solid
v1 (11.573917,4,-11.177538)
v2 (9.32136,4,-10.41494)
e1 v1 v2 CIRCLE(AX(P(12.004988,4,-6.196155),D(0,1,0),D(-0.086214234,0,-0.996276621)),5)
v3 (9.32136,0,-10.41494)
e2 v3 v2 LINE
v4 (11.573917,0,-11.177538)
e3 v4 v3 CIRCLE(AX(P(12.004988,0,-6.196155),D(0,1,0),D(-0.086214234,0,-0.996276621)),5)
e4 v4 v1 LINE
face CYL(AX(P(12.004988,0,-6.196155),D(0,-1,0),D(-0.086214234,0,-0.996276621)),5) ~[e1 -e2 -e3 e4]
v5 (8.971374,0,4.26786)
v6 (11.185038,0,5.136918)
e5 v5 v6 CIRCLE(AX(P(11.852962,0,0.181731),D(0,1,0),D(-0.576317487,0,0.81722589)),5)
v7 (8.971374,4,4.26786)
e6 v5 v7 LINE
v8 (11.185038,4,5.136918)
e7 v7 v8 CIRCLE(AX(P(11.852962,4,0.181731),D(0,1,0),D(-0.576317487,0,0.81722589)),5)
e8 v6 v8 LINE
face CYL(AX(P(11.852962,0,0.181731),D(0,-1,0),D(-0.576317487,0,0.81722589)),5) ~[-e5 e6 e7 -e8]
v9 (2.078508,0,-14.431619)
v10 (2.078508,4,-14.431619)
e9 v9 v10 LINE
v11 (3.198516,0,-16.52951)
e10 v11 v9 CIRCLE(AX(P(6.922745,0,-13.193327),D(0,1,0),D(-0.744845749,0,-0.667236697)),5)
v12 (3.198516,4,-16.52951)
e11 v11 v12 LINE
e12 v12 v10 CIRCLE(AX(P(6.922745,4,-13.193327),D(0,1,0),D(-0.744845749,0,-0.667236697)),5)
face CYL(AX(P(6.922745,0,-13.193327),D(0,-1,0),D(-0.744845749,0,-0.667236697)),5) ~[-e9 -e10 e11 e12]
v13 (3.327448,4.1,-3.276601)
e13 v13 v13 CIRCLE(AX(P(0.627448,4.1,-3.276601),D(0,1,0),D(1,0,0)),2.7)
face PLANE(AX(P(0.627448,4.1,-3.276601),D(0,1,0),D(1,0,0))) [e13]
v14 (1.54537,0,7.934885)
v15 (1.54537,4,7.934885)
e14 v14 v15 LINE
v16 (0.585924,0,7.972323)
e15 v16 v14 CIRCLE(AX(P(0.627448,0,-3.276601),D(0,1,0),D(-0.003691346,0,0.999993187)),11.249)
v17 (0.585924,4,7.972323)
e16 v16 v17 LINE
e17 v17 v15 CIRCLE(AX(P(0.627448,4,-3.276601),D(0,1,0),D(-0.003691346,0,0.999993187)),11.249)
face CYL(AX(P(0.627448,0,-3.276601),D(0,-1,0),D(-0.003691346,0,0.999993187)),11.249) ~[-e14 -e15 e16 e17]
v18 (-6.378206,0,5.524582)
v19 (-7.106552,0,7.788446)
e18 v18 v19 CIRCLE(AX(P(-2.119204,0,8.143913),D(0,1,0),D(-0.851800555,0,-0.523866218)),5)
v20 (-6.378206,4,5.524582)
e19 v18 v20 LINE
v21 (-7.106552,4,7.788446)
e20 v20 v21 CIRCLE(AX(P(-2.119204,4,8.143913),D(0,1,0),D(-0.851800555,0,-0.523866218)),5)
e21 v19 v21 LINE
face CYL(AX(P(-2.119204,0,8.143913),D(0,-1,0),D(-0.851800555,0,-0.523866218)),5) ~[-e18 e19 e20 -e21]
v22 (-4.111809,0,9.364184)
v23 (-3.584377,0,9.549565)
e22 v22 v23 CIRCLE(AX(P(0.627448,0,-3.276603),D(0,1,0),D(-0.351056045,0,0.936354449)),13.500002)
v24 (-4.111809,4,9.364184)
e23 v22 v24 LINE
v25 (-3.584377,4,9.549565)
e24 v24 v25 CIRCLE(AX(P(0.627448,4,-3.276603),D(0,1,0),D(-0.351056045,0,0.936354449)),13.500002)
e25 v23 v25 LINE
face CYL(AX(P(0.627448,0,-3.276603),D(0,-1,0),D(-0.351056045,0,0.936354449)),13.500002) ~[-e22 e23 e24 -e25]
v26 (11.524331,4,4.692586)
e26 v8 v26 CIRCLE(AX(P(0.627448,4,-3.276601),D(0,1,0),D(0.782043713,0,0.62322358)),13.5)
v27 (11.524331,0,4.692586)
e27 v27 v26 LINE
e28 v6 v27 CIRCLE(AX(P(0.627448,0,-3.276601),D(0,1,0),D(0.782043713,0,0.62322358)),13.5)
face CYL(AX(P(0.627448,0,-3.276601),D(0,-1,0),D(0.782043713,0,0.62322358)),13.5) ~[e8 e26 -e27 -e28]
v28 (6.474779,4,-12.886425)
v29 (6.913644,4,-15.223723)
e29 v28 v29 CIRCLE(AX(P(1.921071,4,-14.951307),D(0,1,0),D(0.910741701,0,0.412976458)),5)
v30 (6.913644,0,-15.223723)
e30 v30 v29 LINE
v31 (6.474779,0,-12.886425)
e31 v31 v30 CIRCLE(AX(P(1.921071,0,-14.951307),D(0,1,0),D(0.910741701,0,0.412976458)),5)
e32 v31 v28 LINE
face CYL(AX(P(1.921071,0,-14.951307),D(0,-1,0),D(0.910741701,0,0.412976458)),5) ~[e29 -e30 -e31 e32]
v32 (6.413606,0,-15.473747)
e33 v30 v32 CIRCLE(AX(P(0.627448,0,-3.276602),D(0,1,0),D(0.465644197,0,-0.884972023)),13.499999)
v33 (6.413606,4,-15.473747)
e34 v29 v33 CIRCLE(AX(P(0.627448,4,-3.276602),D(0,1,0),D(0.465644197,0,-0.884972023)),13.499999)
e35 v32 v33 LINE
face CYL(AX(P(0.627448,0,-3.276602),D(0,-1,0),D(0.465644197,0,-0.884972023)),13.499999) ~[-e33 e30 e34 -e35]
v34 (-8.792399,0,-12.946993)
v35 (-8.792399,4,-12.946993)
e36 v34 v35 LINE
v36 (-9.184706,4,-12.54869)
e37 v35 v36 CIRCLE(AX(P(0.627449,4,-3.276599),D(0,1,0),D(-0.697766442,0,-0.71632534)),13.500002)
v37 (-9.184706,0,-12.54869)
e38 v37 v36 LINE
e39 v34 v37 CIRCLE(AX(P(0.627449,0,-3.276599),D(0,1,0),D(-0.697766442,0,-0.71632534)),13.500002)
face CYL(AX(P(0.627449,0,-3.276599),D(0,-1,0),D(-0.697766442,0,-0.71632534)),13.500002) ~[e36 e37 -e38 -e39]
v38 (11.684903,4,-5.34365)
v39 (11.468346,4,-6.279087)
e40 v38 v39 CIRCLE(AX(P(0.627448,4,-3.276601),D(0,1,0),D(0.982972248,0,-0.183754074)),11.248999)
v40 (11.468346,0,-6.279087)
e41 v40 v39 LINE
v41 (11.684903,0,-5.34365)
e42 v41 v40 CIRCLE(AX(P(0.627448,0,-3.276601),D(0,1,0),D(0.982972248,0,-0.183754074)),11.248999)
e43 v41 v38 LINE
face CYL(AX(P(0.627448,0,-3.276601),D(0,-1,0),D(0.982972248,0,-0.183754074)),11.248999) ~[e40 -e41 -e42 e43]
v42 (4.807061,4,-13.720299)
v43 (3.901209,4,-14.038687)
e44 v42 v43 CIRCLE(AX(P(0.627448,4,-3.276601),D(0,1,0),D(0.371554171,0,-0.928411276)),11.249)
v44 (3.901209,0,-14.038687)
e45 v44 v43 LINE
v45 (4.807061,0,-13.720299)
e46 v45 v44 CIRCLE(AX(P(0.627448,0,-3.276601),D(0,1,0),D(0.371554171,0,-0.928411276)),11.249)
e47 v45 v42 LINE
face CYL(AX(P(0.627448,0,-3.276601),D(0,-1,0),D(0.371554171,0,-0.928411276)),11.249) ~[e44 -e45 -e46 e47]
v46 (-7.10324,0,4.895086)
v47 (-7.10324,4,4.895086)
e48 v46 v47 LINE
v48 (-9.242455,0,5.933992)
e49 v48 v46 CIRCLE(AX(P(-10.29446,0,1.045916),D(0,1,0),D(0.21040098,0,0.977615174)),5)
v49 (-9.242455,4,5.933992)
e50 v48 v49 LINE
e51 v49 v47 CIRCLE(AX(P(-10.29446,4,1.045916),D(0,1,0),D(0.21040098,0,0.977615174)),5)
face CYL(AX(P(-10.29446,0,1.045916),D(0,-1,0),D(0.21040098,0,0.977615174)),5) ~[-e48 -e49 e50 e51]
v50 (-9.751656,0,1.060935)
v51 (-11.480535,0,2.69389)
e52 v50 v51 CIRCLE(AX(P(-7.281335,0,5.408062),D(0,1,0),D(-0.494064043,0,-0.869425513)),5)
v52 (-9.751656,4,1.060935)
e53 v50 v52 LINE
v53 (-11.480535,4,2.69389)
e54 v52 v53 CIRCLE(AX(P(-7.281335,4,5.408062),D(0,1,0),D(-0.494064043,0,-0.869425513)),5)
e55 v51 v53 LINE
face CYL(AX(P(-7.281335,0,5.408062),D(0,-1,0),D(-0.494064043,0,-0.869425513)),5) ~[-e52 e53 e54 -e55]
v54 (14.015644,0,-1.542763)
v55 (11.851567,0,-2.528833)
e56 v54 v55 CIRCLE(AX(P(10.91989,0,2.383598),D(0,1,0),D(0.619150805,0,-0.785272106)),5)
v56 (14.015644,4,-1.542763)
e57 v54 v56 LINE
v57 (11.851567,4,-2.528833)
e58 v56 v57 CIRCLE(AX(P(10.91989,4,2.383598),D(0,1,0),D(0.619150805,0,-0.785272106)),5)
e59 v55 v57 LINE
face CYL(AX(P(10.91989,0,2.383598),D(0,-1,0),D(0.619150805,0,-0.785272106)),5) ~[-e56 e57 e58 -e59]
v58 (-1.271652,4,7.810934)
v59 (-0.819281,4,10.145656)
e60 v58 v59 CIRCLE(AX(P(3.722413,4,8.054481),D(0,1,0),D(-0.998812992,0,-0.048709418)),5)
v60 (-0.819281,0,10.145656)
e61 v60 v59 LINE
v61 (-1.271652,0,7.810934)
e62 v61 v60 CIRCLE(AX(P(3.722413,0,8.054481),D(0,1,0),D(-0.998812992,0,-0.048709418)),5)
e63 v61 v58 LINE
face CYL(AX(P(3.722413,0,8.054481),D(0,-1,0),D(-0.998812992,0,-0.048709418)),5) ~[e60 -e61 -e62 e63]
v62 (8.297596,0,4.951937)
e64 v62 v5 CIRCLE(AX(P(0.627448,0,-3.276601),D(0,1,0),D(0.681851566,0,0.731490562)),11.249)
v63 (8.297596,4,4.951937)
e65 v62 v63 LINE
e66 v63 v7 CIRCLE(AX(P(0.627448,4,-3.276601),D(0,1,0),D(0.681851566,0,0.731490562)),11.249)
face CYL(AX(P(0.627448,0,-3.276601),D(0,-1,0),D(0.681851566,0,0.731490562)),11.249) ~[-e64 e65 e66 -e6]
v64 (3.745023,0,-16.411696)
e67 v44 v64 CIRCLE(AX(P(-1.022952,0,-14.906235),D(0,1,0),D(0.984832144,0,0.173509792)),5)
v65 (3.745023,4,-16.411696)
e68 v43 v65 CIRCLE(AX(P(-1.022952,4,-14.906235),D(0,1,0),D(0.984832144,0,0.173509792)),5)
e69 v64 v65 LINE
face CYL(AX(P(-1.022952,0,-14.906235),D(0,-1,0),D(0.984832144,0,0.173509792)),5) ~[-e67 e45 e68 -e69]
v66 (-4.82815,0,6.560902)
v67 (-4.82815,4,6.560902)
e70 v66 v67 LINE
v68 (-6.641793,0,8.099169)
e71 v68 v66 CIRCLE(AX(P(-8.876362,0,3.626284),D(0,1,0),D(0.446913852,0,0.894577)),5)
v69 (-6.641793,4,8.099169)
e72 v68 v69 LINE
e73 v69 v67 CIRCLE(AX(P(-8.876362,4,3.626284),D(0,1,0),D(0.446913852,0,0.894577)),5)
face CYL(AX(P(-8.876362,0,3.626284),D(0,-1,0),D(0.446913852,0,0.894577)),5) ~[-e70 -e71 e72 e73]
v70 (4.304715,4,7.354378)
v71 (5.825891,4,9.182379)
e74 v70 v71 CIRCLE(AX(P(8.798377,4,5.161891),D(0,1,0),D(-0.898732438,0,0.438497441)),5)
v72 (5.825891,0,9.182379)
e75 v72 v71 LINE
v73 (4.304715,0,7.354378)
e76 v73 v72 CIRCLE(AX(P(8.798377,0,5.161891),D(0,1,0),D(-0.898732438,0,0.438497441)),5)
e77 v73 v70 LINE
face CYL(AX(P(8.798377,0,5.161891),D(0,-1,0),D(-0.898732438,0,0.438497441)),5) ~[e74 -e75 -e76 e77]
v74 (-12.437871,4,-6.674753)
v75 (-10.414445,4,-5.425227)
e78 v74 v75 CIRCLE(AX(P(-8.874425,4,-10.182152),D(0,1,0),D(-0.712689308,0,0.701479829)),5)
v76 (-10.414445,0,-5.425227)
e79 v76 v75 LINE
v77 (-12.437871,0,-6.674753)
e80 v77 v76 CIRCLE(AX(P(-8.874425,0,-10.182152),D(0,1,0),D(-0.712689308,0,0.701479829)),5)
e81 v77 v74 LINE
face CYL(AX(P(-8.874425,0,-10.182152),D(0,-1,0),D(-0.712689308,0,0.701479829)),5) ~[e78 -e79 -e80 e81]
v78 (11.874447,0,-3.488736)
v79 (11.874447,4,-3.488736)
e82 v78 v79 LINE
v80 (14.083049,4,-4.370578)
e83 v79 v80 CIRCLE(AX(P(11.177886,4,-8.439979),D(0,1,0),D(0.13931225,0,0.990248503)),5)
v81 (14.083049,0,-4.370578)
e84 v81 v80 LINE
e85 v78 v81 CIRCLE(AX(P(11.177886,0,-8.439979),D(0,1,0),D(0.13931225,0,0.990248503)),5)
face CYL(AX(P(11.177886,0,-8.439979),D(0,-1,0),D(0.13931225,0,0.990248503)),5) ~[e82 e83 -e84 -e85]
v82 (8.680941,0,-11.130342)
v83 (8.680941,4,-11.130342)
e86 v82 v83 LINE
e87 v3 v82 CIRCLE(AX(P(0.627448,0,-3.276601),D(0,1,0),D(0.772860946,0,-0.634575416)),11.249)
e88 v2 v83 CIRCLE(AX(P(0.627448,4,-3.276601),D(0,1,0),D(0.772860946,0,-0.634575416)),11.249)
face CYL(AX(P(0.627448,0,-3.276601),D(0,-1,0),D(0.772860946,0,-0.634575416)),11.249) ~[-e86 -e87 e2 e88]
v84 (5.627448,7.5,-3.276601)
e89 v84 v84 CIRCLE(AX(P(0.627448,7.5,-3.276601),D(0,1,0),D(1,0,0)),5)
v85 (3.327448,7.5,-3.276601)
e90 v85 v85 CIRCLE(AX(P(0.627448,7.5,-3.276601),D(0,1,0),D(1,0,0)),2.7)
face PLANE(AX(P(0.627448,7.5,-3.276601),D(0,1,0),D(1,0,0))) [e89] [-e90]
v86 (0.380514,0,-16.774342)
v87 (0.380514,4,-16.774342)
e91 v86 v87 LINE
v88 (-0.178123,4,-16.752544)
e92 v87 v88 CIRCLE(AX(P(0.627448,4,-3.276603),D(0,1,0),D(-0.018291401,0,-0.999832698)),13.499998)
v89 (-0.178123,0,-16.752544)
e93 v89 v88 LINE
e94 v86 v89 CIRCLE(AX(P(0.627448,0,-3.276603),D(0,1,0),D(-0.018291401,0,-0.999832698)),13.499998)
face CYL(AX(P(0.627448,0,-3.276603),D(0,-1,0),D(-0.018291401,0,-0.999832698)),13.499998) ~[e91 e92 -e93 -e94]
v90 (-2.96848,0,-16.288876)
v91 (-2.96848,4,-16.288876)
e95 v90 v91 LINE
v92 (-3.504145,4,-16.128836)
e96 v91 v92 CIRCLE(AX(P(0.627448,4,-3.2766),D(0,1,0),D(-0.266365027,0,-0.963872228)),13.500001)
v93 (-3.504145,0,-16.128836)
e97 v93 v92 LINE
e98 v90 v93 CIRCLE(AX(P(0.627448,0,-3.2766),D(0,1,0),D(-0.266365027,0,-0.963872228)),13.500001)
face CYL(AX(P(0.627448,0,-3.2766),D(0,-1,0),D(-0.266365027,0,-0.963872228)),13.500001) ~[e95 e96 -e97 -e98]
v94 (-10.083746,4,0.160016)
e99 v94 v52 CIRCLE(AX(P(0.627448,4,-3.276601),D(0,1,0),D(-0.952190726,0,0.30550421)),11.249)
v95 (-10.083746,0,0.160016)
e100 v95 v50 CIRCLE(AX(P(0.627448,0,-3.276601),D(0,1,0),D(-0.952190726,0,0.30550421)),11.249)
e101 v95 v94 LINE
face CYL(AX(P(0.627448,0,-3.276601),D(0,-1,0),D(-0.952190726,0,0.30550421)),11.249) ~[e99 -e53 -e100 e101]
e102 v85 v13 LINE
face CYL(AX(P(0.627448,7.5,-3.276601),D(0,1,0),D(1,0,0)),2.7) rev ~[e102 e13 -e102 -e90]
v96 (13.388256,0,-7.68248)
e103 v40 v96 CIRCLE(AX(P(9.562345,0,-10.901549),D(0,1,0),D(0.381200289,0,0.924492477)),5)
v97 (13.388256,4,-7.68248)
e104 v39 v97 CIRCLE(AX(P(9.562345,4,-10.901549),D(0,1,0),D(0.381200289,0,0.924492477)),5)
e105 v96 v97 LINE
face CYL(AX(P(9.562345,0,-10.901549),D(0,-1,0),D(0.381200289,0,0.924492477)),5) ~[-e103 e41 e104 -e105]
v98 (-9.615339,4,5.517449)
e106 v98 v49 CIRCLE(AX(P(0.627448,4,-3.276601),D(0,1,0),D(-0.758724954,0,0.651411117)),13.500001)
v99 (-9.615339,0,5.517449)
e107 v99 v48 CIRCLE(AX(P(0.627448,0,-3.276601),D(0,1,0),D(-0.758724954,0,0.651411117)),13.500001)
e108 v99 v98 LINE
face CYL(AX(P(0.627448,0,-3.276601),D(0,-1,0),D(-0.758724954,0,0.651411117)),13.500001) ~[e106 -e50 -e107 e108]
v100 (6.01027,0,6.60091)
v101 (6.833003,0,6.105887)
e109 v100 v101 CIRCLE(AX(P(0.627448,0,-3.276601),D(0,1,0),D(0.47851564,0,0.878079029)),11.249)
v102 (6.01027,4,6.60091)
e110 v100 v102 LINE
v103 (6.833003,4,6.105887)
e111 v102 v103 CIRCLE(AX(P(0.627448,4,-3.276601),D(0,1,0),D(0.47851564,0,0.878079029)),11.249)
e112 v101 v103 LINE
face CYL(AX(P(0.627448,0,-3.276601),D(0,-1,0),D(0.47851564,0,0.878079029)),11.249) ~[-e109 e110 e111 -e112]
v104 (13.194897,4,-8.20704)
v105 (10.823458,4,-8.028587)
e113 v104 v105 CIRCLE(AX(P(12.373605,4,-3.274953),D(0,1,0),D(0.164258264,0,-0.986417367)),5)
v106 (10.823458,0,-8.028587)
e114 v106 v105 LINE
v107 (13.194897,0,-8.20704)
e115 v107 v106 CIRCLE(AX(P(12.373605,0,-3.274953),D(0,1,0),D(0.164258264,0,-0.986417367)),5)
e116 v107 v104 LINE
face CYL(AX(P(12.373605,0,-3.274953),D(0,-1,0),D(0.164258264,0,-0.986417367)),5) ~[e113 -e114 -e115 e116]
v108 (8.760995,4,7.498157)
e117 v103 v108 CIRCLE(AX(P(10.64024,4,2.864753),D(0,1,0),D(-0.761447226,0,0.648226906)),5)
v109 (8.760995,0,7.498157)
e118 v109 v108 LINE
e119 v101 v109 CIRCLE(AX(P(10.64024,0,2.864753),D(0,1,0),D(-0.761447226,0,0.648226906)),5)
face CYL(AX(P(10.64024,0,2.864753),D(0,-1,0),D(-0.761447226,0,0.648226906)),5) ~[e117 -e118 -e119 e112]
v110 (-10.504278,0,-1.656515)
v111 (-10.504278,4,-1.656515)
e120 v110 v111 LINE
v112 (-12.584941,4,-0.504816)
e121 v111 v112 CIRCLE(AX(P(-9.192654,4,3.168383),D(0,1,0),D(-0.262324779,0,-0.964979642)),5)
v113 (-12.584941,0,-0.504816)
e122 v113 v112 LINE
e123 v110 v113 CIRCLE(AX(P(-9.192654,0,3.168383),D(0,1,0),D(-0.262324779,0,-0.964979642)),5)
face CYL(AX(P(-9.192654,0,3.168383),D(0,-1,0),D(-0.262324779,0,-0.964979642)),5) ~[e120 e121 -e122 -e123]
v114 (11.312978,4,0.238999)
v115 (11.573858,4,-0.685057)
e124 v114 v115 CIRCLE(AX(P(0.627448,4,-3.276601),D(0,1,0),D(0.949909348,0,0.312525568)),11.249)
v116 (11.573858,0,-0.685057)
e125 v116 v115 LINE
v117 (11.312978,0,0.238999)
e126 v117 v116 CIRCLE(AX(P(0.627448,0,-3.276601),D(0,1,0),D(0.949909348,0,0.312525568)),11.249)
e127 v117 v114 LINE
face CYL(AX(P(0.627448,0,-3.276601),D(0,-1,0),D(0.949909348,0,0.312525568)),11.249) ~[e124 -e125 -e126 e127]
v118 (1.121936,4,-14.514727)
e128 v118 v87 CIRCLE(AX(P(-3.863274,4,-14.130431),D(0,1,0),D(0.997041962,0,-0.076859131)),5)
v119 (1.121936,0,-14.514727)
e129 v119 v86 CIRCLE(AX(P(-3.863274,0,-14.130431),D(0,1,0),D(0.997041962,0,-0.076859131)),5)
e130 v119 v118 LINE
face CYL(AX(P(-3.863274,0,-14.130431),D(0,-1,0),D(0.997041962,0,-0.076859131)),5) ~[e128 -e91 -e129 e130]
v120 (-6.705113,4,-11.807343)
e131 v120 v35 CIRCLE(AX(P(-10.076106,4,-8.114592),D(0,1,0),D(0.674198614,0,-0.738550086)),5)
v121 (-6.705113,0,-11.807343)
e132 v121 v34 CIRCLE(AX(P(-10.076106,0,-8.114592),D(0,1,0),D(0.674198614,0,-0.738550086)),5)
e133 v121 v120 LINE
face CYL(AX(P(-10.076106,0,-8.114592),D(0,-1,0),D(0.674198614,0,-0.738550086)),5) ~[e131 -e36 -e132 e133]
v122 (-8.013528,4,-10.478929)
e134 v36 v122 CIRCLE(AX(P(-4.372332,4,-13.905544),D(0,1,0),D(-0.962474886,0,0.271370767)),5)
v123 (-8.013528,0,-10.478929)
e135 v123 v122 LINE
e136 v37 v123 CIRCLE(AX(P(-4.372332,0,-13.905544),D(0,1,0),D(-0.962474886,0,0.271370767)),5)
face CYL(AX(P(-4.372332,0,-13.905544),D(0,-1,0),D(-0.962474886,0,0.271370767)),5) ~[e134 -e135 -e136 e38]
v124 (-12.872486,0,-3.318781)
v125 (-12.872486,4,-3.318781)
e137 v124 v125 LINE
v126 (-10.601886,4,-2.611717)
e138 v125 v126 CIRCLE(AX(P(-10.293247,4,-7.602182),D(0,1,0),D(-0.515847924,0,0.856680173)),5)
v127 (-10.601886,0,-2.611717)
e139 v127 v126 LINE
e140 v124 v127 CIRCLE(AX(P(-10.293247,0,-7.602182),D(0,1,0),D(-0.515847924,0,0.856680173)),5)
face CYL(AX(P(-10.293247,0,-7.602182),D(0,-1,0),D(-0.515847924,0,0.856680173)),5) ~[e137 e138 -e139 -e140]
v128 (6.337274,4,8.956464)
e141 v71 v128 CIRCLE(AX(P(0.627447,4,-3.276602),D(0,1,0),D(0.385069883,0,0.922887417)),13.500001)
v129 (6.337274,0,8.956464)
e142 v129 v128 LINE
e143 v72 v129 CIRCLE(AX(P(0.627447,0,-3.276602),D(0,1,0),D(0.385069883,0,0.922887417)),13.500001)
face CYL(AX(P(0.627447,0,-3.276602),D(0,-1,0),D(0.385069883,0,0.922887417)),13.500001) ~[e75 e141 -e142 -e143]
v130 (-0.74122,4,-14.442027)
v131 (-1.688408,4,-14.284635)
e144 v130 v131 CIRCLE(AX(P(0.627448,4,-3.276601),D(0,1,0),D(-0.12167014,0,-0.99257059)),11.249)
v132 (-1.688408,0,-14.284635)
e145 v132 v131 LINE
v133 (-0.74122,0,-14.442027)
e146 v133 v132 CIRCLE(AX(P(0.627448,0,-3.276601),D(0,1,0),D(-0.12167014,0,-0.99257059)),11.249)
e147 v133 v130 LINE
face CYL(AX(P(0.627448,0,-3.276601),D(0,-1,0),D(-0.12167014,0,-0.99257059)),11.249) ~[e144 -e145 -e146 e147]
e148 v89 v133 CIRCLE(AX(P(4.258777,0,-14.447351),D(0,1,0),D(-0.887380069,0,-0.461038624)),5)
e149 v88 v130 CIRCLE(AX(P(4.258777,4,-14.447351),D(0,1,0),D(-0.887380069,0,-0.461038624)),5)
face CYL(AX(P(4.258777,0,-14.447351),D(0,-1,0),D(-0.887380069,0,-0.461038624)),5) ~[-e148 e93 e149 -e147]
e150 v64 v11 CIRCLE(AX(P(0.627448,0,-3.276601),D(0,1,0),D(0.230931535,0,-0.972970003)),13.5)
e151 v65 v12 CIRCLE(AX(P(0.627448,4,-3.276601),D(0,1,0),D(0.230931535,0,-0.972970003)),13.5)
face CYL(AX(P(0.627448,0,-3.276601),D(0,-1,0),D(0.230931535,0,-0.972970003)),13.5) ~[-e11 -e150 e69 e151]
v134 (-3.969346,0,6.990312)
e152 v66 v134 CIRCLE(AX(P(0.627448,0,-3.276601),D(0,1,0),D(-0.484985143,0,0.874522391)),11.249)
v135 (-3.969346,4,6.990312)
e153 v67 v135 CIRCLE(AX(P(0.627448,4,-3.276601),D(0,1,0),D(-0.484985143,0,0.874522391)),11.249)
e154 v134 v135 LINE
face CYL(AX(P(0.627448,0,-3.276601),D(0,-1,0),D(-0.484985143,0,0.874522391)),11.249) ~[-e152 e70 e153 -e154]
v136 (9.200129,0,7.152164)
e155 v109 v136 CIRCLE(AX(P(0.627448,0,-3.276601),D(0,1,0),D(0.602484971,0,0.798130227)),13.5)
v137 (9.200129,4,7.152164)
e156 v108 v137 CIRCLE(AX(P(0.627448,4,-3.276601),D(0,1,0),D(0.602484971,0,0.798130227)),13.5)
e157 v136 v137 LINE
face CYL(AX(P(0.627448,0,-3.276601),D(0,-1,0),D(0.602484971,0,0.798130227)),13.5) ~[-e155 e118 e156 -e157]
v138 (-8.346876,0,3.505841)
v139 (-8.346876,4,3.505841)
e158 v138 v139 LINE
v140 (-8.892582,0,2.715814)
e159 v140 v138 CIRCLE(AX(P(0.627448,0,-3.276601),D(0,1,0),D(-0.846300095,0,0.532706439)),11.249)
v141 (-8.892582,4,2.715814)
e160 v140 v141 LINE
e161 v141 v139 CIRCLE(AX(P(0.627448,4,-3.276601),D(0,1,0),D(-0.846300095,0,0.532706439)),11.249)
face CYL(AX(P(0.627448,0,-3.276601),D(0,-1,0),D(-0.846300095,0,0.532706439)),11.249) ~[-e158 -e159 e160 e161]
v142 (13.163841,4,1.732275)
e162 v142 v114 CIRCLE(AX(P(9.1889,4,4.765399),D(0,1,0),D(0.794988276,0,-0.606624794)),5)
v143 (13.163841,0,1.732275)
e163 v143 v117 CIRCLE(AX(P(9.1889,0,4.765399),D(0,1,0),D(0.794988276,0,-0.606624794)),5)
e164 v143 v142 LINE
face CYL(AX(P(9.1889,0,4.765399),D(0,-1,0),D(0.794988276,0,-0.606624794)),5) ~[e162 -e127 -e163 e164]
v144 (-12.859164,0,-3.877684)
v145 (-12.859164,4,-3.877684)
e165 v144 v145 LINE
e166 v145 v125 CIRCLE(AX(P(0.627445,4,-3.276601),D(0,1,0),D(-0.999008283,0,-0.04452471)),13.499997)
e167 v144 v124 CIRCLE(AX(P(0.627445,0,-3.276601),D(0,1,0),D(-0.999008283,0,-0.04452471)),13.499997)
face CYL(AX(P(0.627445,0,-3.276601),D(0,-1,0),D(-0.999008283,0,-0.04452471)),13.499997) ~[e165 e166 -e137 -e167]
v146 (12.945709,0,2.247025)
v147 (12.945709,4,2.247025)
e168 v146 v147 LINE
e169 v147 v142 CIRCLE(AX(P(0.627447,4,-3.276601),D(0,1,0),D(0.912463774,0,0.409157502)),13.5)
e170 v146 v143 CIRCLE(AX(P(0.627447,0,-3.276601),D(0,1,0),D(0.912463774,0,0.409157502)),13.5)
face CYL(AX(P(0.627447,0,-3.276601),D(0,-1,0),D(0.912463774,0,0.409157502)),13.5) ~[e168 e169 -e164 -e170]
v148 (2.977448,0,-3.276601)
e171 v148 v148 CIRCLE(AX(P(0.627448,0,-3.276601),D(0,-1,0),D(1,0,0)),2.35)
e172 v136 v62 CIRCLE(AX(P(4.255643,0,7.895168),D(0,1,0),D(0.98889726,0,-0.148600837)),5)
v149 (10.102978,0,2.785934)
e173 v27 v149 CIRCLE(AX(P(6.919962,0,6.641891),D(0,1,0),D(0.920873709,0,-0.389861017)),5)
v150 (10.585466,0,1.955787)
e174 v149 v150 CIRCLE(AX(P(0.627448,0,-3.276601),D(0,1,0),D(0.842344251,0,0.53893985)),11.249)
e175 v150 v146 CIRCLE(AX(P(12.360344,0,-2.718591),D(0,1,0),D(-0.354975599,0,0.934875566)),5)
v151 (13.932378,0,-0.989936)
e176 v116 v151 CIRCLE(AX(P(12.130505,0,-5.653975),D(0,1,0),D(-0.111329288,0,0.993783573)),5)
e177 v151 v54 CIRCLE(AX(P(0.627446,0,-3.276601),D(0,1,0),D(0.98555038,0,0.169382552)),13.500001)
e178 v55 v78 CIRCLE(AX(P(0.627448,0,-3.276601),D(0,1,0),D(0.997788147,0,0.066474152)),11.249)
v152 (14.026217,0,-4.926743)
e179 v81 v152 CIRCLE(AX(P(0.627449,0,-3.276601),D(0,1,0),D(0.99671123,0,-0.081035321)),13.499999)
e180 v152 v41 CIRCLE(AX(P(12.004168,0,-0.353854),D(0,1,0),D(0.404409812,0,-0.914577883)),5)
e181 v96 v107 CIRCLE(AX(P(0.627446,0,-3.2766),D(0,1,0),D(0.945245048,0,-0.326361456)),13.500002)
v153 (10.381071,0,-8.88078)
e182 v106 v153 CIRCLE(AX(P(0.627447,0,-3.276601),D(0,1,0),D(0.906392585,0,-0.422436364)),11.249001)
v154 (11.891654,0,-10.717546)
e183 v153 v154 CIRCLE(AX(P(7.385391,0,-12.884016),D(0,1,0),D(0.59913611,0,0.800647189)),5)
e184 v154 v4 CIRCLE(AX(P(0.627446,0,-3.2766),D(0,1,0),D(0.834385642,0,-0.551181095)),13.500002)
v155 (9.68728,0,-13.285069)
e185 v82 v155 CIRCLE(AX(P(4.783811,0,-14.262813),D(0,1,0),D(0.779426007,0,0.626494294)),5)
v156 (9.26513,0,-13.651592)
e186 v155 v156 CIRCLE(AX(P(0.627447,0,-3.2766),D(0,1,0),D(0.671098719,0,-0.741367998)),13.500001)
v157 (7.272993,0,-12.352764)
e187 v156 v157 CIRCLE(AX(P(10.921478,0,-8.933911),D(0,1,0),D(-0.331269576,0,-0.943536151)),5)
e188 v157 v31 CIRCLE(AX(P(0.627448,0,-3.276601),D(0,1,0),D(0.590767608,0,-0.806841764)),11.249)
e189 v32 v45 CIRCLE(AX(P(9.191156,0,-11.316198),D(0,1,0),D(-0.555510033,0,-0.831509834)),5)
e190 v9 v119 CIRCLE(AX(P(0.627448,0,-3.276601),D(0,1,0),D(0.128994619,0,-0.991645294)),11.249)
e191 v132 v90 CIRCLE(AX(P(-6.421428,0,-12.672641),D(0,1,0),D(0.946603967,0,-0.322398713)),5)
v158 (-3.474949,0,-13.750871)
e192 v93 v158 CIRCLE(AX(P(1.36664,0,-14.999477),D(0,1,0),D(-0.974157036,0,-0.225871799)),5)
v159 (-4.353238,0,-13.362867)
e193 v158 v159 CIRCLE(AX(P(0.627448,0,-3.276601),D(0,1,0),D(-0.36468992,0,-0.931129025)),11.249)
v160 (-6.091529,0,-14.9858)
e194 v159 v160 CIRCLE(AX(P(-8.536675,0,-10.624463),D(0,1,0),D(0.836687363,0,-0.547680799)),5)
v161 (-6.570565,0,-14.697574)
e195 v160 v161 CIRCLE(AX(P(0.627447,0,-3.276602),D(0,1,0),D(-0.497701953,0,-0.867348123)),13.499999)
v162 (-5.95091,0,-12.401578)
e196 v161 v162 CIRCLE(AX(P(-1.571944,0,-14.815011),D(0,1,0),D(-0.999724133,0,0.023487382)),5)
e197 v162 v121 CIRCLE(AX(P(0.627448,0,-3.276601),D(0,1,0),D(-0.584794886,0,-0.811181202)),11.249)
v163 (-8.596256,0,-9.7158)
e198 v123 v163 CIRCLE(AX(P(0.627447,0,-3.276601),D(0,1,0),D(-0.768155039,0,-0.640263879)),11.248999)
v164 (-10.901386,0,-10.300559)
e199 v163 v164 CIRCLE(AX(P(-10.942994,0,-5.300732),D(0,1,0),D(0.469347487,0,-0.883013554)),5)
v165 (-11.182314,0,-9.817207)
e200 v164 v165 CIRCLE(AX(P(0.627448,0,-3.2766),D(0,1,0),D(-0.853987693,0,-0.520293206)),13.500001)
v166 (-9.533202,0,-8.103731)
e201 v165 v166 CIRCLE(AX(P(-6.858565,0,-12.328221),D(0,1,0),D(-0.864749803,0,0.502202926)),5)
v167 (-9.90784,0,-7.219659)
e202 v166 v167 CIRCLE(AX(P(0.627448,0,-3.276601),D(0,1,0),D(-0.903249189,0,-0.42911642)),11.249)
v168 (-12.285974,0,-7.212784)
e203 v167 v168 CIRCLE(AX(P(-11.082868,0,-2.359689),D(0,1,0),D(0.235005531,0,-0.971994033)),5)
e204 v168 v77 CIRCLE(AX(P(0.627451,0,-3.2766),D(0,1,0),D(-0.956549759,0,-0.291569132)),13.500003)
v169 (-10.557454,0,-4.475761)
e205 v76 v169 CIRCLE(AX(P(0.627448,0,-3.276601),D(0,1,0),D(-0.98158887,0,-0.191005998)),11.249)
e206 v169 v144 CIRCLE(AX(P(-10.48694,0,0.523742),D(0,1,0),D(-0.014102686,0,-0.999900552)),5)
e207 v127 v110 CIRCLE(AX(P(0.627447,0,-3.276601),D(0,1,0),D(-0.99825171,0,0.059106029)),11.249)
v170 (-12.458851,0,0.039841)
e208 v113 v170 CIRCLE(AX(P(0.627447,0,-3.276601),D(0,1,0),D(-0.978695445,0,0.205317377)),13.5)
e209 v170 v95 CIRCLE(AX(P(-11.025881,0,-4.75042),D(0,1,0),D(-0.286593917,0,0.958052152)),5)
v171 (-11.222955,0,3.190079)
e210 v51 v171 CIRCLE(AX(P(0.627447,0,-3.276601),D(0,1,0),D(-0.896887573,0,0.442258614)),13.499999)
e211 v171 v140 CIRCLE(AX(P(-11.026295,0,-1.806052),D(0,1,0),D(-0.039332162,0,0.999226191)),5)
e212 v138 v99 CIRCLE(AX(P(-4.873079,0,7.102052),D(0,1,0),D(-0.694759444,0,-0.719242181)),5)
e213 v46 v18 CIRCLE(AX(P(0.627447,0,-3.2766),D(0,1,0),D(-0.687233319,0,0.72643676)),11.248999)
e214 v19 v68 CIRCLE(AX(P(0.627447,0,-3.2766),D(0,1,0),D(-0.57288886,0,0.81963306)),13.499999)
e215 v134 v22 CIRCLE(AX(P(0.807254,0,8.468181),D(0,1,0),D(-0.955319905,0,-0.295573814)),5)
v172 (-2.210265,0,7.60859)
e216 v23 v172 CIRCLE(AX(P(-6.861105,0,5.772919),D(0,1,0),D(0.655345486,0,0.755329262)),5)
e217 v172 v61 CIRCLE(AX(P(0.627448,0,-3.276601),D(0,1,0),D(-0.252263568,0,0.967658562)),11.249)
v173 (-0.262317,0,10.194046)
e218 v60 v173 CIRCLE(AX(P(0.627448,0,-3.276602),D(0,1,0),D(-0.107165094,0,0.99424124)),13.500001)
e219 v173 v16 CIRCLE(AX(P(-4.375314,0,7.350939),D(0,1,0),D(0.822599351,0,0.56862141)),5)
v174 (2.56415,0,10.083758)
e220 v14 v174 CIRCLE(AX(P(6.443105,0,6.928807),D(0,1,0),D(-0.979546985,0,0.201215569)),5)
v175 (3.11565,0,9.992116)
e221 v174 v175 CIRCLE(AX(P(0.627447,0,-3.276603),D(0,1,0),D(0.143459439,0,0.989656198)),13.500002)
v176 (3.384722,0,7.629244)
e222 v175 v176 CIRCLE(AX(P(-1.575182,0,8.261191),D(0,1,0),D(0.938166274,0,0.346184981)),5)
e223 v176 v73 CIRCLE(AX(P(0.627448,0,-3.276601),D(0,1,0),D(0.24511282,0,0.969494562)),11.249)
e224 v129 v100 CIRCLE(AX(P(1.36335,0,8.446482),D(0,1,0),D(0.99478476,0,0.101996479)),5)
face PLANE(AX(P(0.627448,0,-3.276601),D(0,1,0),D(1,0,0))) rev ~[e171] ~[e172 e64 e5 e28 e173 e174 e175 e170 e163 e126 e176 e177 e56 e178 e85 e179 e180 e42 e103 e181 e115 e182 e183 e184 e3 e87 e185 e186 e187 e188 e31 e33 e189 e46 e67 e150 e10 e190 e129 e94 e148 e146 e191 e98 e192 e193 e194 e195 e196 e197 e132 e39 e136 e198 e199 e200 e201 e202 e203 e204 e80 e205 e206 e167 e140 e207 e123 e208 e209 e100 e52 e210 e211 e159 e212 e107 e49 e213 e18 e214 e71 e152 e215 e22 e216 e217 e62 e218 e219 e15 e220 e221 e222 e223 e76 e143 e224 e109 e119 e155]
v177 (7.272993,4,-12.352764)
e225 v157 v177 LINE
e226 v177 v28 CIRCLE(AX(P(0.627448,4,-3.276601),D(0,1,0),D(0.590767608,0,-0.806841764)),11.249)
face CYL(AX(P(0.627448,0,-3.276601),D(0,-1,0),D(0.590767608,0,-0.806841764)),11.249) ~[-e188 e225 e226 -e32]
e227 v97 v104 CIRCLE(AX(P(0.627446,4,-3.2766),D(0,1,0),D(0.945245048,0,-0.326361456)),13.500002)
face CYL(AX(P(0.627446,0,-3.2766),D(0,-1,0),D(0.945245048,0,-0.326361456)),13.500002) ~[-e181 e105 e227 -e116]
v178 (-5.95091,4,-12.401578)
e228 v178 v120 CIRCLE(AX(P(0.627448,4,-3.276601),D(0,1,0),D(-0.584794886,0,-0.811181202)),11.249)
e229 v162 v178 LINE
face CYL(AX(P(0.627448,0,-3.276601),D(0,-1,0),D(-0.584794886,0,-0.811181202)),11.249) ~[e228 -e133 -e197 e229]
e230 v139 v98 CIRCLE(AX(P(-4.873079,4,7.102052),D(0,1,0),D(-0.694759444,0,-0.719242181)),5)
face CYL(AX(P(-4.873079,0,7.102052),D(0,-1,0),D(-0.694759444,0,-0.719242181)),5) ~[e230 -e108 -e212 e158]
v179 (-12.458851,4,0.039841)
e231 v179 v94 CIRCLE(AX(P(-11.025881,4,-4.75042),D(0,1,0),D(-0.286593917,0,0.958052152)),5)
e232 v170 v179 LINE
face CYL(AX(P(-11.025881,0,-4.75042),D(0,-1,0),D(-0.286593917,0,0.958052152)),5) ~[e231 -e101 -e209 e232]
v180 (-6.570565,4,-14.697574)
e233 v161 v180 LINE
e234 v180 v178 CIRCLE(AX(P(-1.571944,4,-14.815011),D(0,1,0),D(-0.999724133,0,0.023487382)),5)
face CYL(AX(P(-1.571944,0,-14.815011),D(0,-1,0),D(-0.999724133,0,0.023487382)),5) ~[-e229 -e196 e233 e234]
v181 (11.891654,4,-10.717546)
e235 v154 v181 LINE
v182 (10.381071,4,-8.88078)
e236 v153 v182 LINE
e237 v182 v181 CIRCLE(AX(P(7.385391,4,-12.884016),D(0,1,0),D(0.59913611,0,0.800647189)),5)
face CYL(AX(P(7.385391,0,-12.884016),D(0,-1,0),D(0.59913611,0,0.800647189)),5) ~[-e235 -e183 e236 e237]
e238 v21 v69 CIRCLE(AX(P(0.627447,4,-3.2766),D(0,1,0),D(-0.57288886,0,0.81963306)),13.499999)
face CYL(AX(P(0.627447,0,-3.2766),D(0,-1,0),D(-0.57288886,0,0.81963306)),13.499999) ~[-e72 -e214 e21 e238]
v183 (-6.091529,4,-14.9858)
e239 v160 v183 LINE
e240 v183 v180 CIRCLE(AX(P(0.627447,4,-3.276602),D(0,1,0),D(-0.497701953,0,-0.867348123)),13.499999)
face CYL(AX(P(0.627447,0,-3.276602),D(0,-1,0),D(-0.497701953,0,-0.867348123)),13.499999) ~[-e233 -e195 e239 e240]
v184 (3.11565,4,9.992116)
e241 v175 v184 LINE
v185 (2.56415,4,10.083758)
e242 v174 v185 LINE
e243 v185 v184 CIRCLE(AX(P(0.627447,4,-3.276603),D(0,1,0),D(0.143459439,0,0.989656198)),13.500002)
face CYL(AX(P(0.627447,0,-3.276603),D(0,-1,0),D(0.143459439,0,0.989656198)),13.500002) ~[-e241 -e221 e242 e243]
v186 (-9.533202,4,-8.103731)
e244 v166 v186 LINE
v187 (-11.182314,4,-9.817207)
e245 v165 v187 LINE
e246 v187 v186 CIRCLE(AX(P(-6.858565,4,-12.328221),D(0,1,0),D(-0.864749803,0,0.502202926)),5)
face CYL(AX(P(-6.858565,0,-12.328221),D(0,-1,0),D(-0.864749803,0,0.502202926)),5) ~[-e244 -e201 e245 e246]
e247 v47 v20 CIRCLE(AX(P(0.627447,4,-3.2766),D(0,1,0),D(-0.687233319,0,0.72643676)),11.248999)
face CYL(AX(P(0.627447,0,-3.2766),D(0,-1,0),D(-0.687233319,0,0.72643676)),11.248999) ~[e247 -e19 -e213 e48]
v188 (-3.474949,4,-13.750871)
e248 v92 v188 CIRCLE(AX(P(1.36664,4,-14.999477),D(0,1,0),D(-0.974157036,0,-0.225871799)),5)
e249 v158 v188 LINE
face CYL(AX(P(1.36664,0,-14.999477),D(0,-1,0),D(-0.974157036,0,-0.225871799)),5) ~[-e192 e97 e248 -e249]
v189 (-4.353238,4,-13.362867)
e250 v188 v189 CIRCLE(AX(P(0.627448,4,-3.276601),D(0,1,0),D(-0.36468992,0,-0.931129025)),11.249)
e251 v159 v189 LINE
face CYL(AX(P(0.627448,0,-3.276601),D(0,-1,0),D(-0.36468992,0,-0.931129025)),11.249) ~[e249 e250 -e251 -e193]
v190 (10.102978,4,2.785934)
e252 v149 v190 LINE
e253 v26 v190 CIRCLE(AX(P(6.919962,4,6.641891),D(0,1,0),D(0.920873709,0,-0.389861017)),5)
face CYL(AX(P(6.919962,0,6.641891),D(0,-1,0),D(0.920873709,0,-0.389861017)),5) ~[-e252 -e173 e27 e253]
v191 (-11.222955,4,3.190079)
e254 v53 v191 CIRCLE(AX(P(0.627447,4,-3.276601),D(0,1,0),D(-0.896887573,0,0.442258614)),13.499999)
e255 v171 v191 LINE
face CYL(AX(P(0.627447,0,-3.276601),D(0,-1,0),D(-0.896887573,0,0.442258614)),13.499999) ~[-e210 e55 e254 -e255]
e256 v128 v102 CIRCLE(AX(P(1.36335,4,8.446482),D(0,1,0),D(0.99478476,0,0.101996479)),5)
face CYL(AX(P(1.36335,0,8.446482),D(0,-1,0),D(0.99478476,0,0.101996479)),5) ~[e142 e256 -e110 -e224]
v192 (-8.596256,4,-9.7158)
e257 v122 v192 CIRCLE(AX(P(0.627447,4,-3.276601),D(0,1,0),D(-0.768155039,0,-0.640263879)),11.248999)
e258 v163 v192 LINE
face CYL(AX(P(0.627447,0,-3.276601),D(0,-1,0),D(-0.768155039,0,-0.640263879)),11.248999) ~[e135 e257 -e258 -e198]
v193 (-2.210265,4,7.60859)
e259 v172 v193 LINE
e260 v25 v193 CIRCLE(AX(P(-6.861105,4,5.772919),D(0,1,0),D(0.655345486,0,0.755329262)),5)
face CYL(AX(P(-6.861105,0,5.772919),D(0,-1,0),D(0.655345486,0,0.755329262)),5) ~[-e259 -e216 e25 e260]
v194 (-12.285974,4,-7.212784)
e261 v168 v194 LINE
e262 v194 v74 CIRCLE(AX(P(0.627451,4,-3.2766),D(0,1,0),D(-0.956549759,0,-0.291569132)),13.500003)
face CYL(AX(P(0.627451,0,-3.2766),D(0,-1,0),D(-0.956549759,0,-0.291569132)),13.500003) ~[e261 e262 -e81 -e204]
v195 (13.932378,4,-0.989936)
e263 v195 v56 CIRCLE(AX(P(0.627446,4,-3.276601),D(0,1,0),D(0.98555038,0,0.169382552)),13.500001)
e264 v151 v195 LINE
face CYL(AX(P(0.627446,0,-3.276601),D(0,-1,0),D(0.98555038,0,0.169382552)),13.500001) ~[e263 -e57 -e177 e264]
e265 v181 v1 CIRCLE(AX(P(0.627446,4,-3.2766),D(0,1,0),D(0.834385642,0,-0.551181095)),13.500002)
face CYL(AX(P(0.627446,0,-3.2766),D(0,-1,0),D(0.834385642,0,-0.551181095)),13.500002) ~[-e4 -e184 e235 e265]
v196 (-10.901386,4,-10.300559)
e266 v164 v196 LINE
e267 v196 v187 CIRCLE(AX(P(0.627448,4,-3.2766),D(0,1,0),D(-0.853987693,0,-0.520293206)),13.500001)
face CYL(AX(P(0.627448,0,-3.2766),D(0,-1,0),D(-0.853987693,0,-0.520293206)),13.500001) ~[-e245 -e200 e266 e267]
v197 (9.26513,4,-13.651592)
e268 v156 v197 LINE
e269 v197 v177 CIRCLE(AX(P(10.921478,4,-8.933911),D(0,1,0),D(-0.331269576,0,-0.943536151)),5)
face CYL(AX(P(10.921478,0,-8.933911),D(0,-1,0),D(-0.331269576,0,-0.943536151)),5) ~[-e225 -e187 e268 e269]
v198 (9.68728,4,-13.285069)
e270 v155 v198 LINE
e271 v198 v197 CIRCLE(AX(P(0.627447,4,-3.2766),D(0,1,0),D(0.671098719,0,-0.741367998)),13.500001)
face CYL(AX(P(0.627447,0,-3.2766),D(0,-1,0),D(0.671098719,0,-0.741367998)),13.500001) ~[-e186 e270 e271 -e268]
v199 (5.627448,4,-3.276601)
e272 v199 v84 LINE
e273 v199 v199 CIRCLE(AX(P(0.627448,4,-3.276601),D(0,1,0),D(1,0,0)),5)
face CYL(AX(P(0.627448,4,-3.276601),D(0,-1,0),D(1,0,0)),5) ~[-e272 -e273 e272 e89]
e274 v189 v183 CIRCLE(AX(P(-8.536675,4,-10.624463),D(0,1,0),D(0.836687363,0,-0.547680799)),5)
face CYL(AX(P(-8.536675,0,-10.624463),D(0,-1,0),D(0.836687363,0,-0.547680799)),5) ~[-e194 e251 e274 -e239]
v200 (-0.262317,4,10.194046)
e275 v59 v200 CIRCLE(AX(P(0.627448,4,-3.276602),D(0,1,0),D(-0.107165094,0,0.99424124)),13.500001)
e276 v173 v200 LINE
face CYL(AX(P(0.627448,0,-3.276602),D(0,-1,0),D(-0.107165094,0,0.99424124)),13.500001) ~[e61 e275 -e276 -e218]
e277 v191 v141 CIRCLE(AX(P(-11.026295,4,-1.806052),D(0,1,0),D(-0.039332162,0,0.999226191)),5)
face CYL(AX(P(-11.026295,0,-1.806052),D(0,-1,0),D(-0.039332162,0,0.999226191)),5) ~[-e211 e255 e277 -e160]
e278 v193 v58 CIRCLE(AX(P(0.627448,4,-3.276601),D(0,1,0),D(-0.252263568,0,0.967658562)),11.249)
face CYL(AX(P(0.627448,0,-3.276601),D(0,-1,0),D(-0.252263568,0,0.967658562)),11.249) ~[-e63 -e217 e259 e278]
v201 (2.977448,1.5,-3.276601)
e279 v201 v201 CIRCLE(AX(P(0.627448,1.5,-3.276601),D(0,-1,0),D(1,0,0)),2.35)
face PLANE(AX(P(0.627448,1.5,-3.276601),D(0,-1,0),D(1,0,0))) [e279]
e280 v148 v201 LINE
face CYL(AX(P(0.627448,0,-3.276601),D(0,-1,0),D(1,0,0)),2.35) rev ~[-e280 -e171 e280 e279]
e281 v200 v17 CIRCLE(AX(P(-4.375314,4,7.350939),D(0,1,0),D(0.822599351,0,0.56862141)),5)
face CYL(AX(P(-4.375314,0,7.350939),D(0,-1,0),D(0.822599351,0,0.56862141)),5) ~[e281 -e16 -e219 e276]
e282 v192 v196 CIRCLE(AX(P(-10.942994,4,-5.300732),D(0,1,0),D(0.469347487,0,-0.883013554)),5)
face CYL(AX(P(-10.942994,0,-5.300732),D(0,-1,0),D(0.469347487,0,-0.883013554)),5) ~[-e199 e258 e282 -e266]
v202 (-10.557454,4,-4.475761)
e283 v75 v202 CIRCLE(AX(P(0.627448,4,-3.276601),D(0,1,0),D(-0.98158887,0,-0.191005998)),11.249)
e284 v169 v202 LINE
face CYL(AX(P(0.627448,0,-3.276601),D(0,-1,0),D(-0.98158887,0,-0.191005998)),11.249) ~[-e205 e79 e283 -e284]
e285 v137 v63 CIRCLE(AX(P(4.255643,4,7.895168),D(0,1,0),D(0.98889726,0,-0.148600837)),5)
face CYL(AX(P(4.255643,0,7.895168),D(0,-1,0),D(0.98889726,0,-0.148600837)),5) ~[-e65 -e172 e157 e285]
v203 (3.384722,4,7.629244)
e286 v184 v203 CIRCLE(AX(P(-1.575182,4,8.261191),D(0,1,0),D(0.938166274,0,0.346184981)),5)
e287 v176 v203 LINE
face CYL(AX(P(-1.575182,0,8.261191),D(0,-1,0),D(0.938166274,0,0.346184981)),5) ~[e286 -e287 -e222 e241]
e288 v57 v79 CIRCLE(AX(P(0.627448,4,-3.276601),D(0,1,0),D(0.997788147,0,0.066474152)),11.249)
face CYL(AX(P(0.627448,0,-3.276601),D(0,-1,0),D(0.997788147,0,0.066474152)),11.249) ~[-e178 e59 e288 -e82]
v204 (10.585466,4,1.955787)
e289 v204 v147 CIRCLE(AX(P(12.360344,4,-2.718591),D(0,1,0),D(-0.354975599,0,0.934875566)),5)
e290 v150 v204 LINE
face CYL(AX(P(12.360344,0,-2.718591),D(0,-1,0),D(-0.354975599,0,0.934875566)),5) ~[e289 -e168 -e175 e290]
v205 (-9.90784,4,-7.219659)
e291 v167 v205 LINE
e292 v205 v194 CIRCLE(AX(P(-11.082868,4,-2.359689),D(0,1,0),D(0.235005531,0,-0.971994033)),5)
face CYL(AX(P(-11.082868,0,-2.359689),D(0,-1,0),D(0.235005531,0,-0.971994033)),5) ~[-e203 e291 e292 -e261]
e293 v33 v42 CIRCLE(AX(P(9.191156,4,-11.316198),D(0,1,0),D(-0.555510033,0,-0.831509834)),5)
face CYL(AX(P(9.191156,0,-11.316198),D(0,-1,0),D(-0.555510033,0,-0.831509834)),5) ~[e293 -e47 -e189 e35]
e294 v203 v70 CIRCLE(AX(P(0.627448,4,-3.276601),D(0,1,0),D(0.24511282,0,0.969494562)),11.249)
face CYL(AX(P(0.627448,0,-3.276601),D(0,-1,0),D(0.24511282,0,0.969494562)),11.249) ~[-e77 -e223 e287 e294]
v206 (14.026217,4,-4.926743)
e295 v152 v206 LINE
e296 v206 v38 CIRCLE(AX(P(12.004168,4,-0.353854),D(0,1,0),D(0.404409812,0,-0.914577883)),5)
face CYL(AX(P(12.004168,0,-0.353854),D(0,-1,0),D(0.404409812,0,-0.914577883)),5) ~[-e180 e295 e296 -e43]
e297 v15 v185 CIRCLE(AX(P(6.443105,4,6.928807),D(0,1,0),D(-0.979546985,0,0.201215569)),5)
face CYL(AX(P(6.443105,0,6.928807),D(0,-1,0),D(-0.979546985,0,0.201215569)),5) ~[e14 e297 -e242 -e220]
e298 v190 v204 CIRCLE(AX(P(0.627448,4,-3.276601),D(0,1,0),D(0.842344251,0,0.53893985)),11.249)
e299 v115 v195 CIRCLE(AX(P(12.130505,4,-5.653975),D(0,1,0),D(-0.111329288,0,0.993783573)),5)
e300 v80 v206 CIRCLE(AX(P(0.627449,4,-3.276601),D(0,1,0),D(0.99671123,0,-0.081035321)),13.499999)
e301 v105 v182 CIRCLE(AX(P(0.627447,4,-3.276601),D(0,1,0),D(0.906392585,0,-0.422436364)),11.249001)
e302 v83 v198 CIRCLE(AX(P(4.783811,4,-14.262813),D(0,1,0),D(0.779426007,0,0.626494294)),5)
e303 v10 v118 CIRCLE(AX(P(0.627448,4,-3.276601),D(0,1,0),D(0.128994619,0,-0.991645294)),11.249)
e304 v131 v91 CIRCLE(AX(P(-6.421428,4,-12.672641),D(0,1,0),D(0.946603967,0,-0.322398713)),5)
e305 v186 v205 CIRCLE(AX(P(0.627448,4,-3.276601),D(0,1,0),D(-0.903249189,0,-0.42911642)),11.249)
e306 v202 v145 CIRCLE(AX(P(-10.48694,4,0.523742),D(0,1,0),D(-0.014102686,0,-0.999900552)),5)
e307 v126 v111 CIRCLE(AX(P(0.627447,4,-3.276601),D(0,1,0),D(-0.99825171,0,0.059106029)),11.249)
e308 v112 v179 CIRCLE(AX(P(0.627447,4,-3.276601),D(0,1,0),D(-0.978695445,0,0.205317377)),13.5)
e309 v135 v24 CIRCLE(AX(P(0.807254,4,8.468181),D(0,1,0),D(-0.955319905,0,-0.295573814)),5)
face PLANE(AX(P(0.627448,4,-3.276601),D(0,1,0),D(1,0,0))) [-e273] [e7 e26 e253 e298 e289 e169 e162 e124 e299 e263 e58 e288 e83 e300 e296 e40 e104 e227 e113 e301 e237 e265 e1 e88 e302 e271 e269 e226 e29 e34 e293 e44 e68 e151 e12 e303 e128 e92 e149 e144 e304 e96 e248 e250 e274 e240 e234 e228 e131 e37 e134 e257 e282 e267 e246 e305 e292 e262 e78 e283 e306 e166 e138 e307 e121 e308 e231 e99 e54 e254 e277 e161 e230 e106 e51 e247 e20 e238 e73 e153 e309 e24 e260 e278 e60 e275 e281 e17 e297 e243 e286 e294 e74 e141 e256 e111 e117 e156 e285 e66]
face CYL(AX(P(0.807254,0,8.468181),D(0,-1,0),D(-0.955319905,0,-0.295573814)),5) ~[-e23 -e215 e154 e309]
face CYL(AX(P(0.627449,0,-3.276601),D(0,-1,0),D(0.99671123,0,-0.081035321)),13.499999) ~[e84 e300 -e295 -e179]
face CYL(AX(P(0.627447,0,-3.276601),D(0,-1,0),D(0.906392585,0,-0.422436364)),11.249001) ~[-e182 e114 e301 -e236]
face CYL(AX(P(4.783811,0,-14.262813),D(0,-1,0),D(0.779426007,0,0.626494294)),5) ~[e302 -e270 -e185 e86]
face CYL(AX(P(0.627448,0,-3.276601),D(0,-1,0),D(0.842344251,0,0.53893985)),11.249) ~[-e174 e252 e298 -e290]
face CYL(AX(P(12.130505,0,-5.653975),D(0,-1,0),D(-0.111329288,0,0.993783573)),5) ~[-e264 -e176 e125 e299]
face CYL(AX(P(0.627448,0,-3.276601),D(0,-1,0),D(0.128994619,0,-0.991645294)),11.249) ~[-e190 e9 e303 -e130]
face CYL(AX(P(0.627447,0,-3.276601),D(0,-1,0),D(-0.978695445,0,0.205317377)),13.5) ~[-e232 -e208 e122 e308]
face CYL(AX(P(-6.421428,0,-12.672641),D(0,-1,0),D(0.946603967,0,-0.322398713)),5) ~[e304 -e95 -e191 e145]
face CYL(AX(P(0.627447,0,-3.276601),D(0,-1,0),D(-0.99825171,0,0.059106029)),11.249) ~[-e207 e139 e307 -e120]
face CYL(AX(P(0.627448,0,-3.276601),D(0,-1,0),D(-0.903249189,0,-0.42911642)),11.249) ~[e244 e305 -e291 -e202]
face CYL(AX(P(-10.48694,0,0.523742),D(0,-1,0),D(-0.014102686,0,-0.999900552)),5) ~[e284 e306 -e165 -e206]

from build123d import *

# Parameters (mm, degrees)
BOSS_EXTRUDE1_DEPTH = 4
SKETCH2_R           = 5
BOSS_EXTRUDE2_DEPTH = 3.5
SKETCH3_R           = 2.7
CUT_EXTRUDE1_DEPTH  = 3.4
SKETCH4_R           = 2.35
CUT_EXTRUDE2_DEPTH  = 1.5


with BuildPart() as part:
    # Sketch1 → Boss-Extrude1 (new body)
    with BuildSketch(Plane(origin=(0, 0, 0), x_dir=(1, 0, 0), z_dir=(0, 1, 0))):
        with BuildLine():
            ThreePointArc((3.901208796, 14.038686533), (3.966253303, 15.234612101), (3.74502345, 16.41169583))
            ThreePointArc((3.74502345, 16.41169583), (3.4723799, 16.473432267), (3.198516489, 16.529510113))
            ThreePointArc((3.198516489, 16.529510113), (2.511969944, 15.548122017), (2.078508173, 14.431618705))
            ThreePointArc((2.078508173, 14.431618705), (1.601109064, 14.483383768), (1.121935684, 14.514727092))
            ThreePointArc((1.121935684, 14.514727092), (0.887522104, 15.689256371), (0.380513774, 16.774342223))
            ThreePointArc((0.380513774, 16.774342223), (0.101082595, 16.766335403), (-0.178122887, 16.752544399))
            ThreePointArc((-0.178122887, 16.752544399), (-0.599039015, 15.631251232), (-0.741219705, 14.442027366))
            ThreePointArc((-0.741219705, 14.442027366), (-1.216493891, 14.373441804), (-1.688407925, 14.284634846))
            ThreePointArc((-1.688407925, 14.284634846), (-2.207550525, 15.363967841), (-2.968480134, 16.288875881))
            ThreePointArc((-2.968480134, 16.288875881), (-3.237141254, 16.211628901), (-3.504145299, 16.128835588))
            ThreePointArc((-3.504145299, 16.128835588), (-3.632983302, 14.938092323), (-3.474949175, 13.750871212))
            ThreePointArc((-3.474949175, 13.750871212), (-3.918235212, 13.566244507), (-4.353237807, 13.362867335))
            ThreePointArc((-4.353237807, 13.362867335), (-5.124489789, 14.279185585), (-6.091528671, 14.985800439))
            ThreePointArc((-6.091528671, 14.985800439), (-6.332538765, 14.844167012), (-6.570564527, 14.697573597))
            ThreePointArc((-6.570564527, 14.697573597), (-6.399229039, 13.512199013), (-5.95090996, 12.401578126))
            ThreePointArc((-5.95090996, 12.401578126), (-6.334354558, 12.112511054), (-6.7051129, 11.807342604))
            ThreePointArc((-6.7051129, 11.807342604), (-7.680013665, 12.503070462), (-8.792399211, 12.946992921))
            ThreePointArc((-8.792399211, 12.946992921), (-8.990614728, 12.749872395), (-9.184706174, 12.548689882))
            ThreePointArc((-9.184706174, 12.548689882), (-8.723962833, 11.443165424), (-8.013528339, 10.478929154))
            ThreePointArc((-8.013528339, 10.478929154), (-8.313038262, 10.103584863), (-8.596256242, 9.71579999))
            ThreePointArc((-8.596256242, 9.71579999), (-9.713549189, 10.147222317), (-10.901386124, 10.3005591))
            ThreePointArc((-10.901386124, 10.3005591), (-11.044352455, 10.060337283), (-11.182314104, 9.817206709))
            ThreePointArc((-11.182314104, 9.817206709), (-10.46111311, 8.860996544), (-9.533202414, 8.103731404))
            ThreePointArc((-9.533202414, 8.103731404), (-9.729958352, 7.665694155), (-9.907840342, 7.21965881))
            ThreePointArc((-9.907840342, 7.21965881), (-11.097321846, 7.359667754), (-12.285974007, 7.212784147))
            ThreePointArc((-12.285974007, 7.212784147), (-12.364708051, 6.944555059), (-12.437871267, 6.674753212))
            ThreePointArc((-12.437871267, 6.674753212), (-11.50152833, 5.927939542), (-10.414445472, 5.425227285))
            ThreePointArc((-10.414445472, 5.425227285), (-10.496084526, 4.952020569), (-10.557453547, 4.475760793))
            ThreePointArc((-10.557453547, 4.475760793), (-11.744384111, 4.315559077), (-12.85916411, 3.877684317))
            ThreePointArc((-12.85916411, 3.877684317), (-12.868718719, 3.598301779), (-12.872486386, 3.318781301))
            ThreePointArc((-12.872486386, 3.318781301), (-11.779835377, 2.828289175), (-10.601885772, 2.611717061))
            ThreePointArc((-10.601885772, 2.611717061), (-10.563278261, 2.133074197), (-10.504278271, 1.656515143))
            ThreePointArc((-10.504278271, 1.656515143), (-11.614078682, 1.206168831), (-12.584940793, 0.504816199))
            ThreePointArc((-12.584940793, 0.504816199), (-12.524715614, 0.231834843), (-12.458850997, -0.039840966))
            ThreePointArc((-12.458850997, -0.039840966), (-11.278547197, -0.243192124), (-10.08374575, -0.160016072))
            ThreePointArc((-10.08374575, -0.160016072), (-9.927317525, -0.614020193), (-9.751655711, -1.060934567))
            ThreePointArc((-9.751655711, -1.060934567), (-10.714593128, -1.773128561), (-11.480534513, -2.693890499))
            ThreePointArc((-11.480534513, -2.693890499), (-11.354313716, -2.943318251), (-11.222955331, -3.190079))
            ThreePointArc((-11.222955331, -3.190079), (-10.029161569, -3.093511889), (-8.89258205, -2.715813928))
            ThreePointArc((-8.89258205, -2.715813928), (-8.628162071, -3.116652557), (-8.34687591, -3.505840978))
            ThreePointArc((-8.34687591, -3.505840978), (-9.102445434, -4.435132885), (-9.61533918, -5.517449271))
            ThreePointArc((-9.61533918, -5.517449271), (-9.431053682, -5.727650955), (-9.242455259, -5.93399176))
            ThreePointArc((-9.242455259, -5.93399176), (-8.110181987, -5.543574046), (-7.103239867, -4.895086329))
            ThreePointArc((-7.103239867, -4.895086329), (-6.747442615, -5.217573301), (-6.378206351, -5.524581628))
            ThreePointArc((-6.378206351, -5.524581628), (-6.87893277, -6.61258062), (-7.106551876, -7.788445534))
            ThreePointArc((-7.106551876, -7.788445534), (-6.875781012, -7.946213407), (-6.641792884, -8.099169115))
            ThreePointArc((-6.641792884, -8.099169115), (-5.642184996, -7.43943218), (-4.828150152, -6.560901574))
            ThreePointArc((-4.828150152, -6.560901574), (-4.403331676, -6.784773846), (-3.969345782, -6.990311618))
            ThreePointArc((-3.969345782, -6.990311618), (-4.183766613, -8.168654718), (-4.111808933, -9.364184243))
            ThreePointArc((-4.111808933, -9.364184243), (-3.849052886, -9.459605167), (-3.584377387, -9.54956501))
            ThreePointArc((-3.584377387, -9.54956501), (-2.780243924, -8.661962551), (-2.210265158, -7.608590366))
            ThreePointArc((-2.210265158, -7.608590366), (-1.743118366, -7.71978122), (-1.271651772, -7.810933742))
            ThreePointArc((-1.271651772, -7.810933742), (-1.186294165, -9.005581318), (-0.819281066, -10.145655938))
            ThreePointArc((-0.819281066, -10.145655938), (-0.541049764, -10.172734267), (-0.26231743, -10.194045736))
            ThreePointArc((-0.26231743, -10.194045736), (0.295814947, -9.134349079), (0.585923772, -7.972322564))
            ThreePointArc((0.585923772, -7.972322564), (1.06604633, -7.96384547), (1.545369644, -7.934885294))
            ThreePointArc((1.545369644, -7.934885294), (1.925142356, -9.070773246), (2.564150092, -10.083757879))
            ThreePointArc((2.564150092, -10.083757879), (2.840374352, -10.040792181), (3.115649745, -9.992116198))
            ThreePointArc((3.115649745, -9.992116198), (3.392711524, -8.826909983), (3.384721804, -7.629243537))
            ThreePointArc((3.384721804, -7.629243537), (3.847652261, -7.501631141), (4.304714649, -7.354377941))
            ThreePointArc((4.304714649, -7.354377941), (4.95503995, -8.360134252), (5.825891117, -9.182379348))
            ThreePointArc((5.825891117, -9.182379348), (6.082752149, -9.072069317), (6.337274035, -8.956464373))
            ThreePointArc((6.337274035, -8.956464373), (6.315856407, -7.758962791), (6.010270165, -6.600910201))
            ThreePointArc((6.010270165, -6.600910201), (6.426920898, -6.362180861), (6.833003449, -6.105887097))
            ThreePointArc((6.833003449, -6.105887097), (7.713019008, -6.918316398), (8.760994824, -7.498157274))
            ThreePointArc((8.760994824, -7.498157274), (8.982353106, -7.327434094), (9.200128938, -7.152164073))
            ThreePointArc((9.200128938, -7.152164073), (8.881577651, -5.997610553), (8.297595995, -4.951936522))
            ThreePointArc((8.297595995, -4.951936522), (8.641787307, -4.617090479), (8.97137436, -4.267860032))
            ThreePointArc((8.97137436, -4.267860032), (10.025785563, -4.835914403), (11.185037854, -5.136917523))
            ThreePointArc((11.185037854, -5.136917523), (11.35698463, -4.91650836), (11.524330752, -4.692586122))
            ThreePointArc((11.524330752, -4.692586122), (10.928661555, -3.653525508), (10.1029782, -2.785933582))
            ThreePointArc((10.1029782, -2.785933582), (10.353083284, -2.376010444), (10.585465673, -1.955786746))
            ThreePointArc((10.585465673, -1.955786746), (11.748019987, -2.243773242), (12.945708667, -2.247025474))
            ThreePointArc((12.945708667, -2.247025474), (13.057439889, -1.990779446), (13.163841329, -1.732274849))
            ThreePointArc((13.163841329, -1.732274849), (12.328482308, -0.873995139), (11.312977976, -0.238999309))
            ThreePointArc((11.312977976, -0.238999309), (11.45328181, 0.220243944), (11.573858095, 0.685056692))
            ThreePointArc((11.573858095, 0.685056692), (12.771507956, 0.695233323), (13.932377842, 0.989936328))
            ThreePointArc((13.932377842, 0.989936328), (13.976873026, 1.265918341), (14.01564419, 1.542762503))
            ThreePointArc((14.01564419, 1.542762503), (12.993084025, 2.166332436), (11.851566587, 2.528833047))
            ThreePointArc((11.851566587, 2.528833047), (11.873253365, 3.008540473), (11.874447295, 3.488736377))
            ThreePointArc((11.874447295, 3.488736377), (13.031939958, 3.796436699), (14.083049324, 4.370577669))
            ThreePointArc((14.083049324, 4.370577669), (14.057512675, 4.648954702), (14.026217428, 4.926743291))
            ThreePointArc((14.026217428, 4.926743291), (12.880707334, 5.276422256), (11.68490253, 5.343650401))
            ThreePointArc((11.68490253, 5.343650401), (11.586609593, 5.813680219), (11.468346148, 6.279086803))
            ThreePointArc((11.468346148, 6.279086803), (12.512952092, 6.864976874), (13.388255872, 7.682480419))
            ThreePointArc((13.388255872, 7.682480419), (13.29429195, 7.945761019), (13.194896688, 8.207039558))
            ThreePointArc((13.194896688, 8.207039558), (11.998413278, 8.260855939), (10.823457921, 8.028587426))
            ThreePointArc((10.823457921, 8.028587426), (10.611361374, 8.459405933), (10.381071482, 8.880779992))
            ThreePointArc((10.381071482, 8.880779992), (11.247154274, 9.708046183), (11.891653912, 10.717545549))
            ThreePointArc((11.891653912, 10.717545549), (11.735166817, 10.949186827), (11.573916909, 11.177538224))
            ThreePointArc((11.573916909, 11.177538224), (10.401639636, 10.932110541), (9.321360492, 10.414939655))
            ThreePointArc((9.321360492, 10.414939655), (9.008787143, 10.77947694), (8.680940764, 11.13034199))
            ThreePointArc((8.680940764, 11.13034199), (9.314081237, 12.147004125), (9.68728045, 13.285068754))
            ThreePointArc((9.68728045, 13.285068754), (9.478102841, 13.470515838), (9.265130213, 13.651591934))
            ThreePointArc((9.265130213, 13.651591934), (8.190717569, 13.12234131), (7.27299255, 12.3527638))
            ThreePointArc((7.27299255, 12.3527638), (6.879582531, 12.628114645), (6.474779459, 12.886424546))
            ThreePointArc((6.474779459, 12.886424546), (6.835195068, 14.028602002), (6.913644378, 15.223723109))
            ThreePointArc((6.913644378, 15.223723109), (6.664919654, 15.351323676), (6.413606158, 15.473746794))
            ThreePointArc((6.413606158, 15.473746794), (5.504567441, 14.693927992), (4.807060586, 13.720299244))
            ThreePointArc((4.807060586, 13.720299244), (4.357533295, 13.889162343), (3.901208796, 14.038686533))
        make_face()
    extrude(amount=BOSS_EXTRUDE1_DEPTH)

    # Sketch2 → Boss-Extrude2 (add)
    with BuildSketch(Plane(origin=(0, 4, 0), x_dir=(1, 0, 0), z_dir=(0, 1, 0))):
        with Locations((0.627447718, 3.276600796)):
            Circle(SKETCH2_R)
    extrude(amount=BOSS_EXTRUDE2_DEPTH)

    # Sketch3 → Cut-Extrude1 (cut)
    with BuildSketch(Plane(origin=(0, 7.5, 0), x_dir=(1, 0, 0), z_dir=(0, 1, 0))):
        with Locations((0.627447718, 3.276600796)):
            Circle(SKETCH3_R)
    extrude(amount=-CUT_EXTRUDE1_DEPTH, mode=Mode.SUBTRACT)

    # Sketch4 → Cut-Extrude2 (cut)
    with BuildSketch(Plane.XZ):
        with Locations((0.627447718, -3.276600796)):
            Circle(SKETCH4_R)
    extrude(amount=-CUT_EXTRUDE2_DEPTH, mode=Mode.SUBTRACT)


solid = part.part
